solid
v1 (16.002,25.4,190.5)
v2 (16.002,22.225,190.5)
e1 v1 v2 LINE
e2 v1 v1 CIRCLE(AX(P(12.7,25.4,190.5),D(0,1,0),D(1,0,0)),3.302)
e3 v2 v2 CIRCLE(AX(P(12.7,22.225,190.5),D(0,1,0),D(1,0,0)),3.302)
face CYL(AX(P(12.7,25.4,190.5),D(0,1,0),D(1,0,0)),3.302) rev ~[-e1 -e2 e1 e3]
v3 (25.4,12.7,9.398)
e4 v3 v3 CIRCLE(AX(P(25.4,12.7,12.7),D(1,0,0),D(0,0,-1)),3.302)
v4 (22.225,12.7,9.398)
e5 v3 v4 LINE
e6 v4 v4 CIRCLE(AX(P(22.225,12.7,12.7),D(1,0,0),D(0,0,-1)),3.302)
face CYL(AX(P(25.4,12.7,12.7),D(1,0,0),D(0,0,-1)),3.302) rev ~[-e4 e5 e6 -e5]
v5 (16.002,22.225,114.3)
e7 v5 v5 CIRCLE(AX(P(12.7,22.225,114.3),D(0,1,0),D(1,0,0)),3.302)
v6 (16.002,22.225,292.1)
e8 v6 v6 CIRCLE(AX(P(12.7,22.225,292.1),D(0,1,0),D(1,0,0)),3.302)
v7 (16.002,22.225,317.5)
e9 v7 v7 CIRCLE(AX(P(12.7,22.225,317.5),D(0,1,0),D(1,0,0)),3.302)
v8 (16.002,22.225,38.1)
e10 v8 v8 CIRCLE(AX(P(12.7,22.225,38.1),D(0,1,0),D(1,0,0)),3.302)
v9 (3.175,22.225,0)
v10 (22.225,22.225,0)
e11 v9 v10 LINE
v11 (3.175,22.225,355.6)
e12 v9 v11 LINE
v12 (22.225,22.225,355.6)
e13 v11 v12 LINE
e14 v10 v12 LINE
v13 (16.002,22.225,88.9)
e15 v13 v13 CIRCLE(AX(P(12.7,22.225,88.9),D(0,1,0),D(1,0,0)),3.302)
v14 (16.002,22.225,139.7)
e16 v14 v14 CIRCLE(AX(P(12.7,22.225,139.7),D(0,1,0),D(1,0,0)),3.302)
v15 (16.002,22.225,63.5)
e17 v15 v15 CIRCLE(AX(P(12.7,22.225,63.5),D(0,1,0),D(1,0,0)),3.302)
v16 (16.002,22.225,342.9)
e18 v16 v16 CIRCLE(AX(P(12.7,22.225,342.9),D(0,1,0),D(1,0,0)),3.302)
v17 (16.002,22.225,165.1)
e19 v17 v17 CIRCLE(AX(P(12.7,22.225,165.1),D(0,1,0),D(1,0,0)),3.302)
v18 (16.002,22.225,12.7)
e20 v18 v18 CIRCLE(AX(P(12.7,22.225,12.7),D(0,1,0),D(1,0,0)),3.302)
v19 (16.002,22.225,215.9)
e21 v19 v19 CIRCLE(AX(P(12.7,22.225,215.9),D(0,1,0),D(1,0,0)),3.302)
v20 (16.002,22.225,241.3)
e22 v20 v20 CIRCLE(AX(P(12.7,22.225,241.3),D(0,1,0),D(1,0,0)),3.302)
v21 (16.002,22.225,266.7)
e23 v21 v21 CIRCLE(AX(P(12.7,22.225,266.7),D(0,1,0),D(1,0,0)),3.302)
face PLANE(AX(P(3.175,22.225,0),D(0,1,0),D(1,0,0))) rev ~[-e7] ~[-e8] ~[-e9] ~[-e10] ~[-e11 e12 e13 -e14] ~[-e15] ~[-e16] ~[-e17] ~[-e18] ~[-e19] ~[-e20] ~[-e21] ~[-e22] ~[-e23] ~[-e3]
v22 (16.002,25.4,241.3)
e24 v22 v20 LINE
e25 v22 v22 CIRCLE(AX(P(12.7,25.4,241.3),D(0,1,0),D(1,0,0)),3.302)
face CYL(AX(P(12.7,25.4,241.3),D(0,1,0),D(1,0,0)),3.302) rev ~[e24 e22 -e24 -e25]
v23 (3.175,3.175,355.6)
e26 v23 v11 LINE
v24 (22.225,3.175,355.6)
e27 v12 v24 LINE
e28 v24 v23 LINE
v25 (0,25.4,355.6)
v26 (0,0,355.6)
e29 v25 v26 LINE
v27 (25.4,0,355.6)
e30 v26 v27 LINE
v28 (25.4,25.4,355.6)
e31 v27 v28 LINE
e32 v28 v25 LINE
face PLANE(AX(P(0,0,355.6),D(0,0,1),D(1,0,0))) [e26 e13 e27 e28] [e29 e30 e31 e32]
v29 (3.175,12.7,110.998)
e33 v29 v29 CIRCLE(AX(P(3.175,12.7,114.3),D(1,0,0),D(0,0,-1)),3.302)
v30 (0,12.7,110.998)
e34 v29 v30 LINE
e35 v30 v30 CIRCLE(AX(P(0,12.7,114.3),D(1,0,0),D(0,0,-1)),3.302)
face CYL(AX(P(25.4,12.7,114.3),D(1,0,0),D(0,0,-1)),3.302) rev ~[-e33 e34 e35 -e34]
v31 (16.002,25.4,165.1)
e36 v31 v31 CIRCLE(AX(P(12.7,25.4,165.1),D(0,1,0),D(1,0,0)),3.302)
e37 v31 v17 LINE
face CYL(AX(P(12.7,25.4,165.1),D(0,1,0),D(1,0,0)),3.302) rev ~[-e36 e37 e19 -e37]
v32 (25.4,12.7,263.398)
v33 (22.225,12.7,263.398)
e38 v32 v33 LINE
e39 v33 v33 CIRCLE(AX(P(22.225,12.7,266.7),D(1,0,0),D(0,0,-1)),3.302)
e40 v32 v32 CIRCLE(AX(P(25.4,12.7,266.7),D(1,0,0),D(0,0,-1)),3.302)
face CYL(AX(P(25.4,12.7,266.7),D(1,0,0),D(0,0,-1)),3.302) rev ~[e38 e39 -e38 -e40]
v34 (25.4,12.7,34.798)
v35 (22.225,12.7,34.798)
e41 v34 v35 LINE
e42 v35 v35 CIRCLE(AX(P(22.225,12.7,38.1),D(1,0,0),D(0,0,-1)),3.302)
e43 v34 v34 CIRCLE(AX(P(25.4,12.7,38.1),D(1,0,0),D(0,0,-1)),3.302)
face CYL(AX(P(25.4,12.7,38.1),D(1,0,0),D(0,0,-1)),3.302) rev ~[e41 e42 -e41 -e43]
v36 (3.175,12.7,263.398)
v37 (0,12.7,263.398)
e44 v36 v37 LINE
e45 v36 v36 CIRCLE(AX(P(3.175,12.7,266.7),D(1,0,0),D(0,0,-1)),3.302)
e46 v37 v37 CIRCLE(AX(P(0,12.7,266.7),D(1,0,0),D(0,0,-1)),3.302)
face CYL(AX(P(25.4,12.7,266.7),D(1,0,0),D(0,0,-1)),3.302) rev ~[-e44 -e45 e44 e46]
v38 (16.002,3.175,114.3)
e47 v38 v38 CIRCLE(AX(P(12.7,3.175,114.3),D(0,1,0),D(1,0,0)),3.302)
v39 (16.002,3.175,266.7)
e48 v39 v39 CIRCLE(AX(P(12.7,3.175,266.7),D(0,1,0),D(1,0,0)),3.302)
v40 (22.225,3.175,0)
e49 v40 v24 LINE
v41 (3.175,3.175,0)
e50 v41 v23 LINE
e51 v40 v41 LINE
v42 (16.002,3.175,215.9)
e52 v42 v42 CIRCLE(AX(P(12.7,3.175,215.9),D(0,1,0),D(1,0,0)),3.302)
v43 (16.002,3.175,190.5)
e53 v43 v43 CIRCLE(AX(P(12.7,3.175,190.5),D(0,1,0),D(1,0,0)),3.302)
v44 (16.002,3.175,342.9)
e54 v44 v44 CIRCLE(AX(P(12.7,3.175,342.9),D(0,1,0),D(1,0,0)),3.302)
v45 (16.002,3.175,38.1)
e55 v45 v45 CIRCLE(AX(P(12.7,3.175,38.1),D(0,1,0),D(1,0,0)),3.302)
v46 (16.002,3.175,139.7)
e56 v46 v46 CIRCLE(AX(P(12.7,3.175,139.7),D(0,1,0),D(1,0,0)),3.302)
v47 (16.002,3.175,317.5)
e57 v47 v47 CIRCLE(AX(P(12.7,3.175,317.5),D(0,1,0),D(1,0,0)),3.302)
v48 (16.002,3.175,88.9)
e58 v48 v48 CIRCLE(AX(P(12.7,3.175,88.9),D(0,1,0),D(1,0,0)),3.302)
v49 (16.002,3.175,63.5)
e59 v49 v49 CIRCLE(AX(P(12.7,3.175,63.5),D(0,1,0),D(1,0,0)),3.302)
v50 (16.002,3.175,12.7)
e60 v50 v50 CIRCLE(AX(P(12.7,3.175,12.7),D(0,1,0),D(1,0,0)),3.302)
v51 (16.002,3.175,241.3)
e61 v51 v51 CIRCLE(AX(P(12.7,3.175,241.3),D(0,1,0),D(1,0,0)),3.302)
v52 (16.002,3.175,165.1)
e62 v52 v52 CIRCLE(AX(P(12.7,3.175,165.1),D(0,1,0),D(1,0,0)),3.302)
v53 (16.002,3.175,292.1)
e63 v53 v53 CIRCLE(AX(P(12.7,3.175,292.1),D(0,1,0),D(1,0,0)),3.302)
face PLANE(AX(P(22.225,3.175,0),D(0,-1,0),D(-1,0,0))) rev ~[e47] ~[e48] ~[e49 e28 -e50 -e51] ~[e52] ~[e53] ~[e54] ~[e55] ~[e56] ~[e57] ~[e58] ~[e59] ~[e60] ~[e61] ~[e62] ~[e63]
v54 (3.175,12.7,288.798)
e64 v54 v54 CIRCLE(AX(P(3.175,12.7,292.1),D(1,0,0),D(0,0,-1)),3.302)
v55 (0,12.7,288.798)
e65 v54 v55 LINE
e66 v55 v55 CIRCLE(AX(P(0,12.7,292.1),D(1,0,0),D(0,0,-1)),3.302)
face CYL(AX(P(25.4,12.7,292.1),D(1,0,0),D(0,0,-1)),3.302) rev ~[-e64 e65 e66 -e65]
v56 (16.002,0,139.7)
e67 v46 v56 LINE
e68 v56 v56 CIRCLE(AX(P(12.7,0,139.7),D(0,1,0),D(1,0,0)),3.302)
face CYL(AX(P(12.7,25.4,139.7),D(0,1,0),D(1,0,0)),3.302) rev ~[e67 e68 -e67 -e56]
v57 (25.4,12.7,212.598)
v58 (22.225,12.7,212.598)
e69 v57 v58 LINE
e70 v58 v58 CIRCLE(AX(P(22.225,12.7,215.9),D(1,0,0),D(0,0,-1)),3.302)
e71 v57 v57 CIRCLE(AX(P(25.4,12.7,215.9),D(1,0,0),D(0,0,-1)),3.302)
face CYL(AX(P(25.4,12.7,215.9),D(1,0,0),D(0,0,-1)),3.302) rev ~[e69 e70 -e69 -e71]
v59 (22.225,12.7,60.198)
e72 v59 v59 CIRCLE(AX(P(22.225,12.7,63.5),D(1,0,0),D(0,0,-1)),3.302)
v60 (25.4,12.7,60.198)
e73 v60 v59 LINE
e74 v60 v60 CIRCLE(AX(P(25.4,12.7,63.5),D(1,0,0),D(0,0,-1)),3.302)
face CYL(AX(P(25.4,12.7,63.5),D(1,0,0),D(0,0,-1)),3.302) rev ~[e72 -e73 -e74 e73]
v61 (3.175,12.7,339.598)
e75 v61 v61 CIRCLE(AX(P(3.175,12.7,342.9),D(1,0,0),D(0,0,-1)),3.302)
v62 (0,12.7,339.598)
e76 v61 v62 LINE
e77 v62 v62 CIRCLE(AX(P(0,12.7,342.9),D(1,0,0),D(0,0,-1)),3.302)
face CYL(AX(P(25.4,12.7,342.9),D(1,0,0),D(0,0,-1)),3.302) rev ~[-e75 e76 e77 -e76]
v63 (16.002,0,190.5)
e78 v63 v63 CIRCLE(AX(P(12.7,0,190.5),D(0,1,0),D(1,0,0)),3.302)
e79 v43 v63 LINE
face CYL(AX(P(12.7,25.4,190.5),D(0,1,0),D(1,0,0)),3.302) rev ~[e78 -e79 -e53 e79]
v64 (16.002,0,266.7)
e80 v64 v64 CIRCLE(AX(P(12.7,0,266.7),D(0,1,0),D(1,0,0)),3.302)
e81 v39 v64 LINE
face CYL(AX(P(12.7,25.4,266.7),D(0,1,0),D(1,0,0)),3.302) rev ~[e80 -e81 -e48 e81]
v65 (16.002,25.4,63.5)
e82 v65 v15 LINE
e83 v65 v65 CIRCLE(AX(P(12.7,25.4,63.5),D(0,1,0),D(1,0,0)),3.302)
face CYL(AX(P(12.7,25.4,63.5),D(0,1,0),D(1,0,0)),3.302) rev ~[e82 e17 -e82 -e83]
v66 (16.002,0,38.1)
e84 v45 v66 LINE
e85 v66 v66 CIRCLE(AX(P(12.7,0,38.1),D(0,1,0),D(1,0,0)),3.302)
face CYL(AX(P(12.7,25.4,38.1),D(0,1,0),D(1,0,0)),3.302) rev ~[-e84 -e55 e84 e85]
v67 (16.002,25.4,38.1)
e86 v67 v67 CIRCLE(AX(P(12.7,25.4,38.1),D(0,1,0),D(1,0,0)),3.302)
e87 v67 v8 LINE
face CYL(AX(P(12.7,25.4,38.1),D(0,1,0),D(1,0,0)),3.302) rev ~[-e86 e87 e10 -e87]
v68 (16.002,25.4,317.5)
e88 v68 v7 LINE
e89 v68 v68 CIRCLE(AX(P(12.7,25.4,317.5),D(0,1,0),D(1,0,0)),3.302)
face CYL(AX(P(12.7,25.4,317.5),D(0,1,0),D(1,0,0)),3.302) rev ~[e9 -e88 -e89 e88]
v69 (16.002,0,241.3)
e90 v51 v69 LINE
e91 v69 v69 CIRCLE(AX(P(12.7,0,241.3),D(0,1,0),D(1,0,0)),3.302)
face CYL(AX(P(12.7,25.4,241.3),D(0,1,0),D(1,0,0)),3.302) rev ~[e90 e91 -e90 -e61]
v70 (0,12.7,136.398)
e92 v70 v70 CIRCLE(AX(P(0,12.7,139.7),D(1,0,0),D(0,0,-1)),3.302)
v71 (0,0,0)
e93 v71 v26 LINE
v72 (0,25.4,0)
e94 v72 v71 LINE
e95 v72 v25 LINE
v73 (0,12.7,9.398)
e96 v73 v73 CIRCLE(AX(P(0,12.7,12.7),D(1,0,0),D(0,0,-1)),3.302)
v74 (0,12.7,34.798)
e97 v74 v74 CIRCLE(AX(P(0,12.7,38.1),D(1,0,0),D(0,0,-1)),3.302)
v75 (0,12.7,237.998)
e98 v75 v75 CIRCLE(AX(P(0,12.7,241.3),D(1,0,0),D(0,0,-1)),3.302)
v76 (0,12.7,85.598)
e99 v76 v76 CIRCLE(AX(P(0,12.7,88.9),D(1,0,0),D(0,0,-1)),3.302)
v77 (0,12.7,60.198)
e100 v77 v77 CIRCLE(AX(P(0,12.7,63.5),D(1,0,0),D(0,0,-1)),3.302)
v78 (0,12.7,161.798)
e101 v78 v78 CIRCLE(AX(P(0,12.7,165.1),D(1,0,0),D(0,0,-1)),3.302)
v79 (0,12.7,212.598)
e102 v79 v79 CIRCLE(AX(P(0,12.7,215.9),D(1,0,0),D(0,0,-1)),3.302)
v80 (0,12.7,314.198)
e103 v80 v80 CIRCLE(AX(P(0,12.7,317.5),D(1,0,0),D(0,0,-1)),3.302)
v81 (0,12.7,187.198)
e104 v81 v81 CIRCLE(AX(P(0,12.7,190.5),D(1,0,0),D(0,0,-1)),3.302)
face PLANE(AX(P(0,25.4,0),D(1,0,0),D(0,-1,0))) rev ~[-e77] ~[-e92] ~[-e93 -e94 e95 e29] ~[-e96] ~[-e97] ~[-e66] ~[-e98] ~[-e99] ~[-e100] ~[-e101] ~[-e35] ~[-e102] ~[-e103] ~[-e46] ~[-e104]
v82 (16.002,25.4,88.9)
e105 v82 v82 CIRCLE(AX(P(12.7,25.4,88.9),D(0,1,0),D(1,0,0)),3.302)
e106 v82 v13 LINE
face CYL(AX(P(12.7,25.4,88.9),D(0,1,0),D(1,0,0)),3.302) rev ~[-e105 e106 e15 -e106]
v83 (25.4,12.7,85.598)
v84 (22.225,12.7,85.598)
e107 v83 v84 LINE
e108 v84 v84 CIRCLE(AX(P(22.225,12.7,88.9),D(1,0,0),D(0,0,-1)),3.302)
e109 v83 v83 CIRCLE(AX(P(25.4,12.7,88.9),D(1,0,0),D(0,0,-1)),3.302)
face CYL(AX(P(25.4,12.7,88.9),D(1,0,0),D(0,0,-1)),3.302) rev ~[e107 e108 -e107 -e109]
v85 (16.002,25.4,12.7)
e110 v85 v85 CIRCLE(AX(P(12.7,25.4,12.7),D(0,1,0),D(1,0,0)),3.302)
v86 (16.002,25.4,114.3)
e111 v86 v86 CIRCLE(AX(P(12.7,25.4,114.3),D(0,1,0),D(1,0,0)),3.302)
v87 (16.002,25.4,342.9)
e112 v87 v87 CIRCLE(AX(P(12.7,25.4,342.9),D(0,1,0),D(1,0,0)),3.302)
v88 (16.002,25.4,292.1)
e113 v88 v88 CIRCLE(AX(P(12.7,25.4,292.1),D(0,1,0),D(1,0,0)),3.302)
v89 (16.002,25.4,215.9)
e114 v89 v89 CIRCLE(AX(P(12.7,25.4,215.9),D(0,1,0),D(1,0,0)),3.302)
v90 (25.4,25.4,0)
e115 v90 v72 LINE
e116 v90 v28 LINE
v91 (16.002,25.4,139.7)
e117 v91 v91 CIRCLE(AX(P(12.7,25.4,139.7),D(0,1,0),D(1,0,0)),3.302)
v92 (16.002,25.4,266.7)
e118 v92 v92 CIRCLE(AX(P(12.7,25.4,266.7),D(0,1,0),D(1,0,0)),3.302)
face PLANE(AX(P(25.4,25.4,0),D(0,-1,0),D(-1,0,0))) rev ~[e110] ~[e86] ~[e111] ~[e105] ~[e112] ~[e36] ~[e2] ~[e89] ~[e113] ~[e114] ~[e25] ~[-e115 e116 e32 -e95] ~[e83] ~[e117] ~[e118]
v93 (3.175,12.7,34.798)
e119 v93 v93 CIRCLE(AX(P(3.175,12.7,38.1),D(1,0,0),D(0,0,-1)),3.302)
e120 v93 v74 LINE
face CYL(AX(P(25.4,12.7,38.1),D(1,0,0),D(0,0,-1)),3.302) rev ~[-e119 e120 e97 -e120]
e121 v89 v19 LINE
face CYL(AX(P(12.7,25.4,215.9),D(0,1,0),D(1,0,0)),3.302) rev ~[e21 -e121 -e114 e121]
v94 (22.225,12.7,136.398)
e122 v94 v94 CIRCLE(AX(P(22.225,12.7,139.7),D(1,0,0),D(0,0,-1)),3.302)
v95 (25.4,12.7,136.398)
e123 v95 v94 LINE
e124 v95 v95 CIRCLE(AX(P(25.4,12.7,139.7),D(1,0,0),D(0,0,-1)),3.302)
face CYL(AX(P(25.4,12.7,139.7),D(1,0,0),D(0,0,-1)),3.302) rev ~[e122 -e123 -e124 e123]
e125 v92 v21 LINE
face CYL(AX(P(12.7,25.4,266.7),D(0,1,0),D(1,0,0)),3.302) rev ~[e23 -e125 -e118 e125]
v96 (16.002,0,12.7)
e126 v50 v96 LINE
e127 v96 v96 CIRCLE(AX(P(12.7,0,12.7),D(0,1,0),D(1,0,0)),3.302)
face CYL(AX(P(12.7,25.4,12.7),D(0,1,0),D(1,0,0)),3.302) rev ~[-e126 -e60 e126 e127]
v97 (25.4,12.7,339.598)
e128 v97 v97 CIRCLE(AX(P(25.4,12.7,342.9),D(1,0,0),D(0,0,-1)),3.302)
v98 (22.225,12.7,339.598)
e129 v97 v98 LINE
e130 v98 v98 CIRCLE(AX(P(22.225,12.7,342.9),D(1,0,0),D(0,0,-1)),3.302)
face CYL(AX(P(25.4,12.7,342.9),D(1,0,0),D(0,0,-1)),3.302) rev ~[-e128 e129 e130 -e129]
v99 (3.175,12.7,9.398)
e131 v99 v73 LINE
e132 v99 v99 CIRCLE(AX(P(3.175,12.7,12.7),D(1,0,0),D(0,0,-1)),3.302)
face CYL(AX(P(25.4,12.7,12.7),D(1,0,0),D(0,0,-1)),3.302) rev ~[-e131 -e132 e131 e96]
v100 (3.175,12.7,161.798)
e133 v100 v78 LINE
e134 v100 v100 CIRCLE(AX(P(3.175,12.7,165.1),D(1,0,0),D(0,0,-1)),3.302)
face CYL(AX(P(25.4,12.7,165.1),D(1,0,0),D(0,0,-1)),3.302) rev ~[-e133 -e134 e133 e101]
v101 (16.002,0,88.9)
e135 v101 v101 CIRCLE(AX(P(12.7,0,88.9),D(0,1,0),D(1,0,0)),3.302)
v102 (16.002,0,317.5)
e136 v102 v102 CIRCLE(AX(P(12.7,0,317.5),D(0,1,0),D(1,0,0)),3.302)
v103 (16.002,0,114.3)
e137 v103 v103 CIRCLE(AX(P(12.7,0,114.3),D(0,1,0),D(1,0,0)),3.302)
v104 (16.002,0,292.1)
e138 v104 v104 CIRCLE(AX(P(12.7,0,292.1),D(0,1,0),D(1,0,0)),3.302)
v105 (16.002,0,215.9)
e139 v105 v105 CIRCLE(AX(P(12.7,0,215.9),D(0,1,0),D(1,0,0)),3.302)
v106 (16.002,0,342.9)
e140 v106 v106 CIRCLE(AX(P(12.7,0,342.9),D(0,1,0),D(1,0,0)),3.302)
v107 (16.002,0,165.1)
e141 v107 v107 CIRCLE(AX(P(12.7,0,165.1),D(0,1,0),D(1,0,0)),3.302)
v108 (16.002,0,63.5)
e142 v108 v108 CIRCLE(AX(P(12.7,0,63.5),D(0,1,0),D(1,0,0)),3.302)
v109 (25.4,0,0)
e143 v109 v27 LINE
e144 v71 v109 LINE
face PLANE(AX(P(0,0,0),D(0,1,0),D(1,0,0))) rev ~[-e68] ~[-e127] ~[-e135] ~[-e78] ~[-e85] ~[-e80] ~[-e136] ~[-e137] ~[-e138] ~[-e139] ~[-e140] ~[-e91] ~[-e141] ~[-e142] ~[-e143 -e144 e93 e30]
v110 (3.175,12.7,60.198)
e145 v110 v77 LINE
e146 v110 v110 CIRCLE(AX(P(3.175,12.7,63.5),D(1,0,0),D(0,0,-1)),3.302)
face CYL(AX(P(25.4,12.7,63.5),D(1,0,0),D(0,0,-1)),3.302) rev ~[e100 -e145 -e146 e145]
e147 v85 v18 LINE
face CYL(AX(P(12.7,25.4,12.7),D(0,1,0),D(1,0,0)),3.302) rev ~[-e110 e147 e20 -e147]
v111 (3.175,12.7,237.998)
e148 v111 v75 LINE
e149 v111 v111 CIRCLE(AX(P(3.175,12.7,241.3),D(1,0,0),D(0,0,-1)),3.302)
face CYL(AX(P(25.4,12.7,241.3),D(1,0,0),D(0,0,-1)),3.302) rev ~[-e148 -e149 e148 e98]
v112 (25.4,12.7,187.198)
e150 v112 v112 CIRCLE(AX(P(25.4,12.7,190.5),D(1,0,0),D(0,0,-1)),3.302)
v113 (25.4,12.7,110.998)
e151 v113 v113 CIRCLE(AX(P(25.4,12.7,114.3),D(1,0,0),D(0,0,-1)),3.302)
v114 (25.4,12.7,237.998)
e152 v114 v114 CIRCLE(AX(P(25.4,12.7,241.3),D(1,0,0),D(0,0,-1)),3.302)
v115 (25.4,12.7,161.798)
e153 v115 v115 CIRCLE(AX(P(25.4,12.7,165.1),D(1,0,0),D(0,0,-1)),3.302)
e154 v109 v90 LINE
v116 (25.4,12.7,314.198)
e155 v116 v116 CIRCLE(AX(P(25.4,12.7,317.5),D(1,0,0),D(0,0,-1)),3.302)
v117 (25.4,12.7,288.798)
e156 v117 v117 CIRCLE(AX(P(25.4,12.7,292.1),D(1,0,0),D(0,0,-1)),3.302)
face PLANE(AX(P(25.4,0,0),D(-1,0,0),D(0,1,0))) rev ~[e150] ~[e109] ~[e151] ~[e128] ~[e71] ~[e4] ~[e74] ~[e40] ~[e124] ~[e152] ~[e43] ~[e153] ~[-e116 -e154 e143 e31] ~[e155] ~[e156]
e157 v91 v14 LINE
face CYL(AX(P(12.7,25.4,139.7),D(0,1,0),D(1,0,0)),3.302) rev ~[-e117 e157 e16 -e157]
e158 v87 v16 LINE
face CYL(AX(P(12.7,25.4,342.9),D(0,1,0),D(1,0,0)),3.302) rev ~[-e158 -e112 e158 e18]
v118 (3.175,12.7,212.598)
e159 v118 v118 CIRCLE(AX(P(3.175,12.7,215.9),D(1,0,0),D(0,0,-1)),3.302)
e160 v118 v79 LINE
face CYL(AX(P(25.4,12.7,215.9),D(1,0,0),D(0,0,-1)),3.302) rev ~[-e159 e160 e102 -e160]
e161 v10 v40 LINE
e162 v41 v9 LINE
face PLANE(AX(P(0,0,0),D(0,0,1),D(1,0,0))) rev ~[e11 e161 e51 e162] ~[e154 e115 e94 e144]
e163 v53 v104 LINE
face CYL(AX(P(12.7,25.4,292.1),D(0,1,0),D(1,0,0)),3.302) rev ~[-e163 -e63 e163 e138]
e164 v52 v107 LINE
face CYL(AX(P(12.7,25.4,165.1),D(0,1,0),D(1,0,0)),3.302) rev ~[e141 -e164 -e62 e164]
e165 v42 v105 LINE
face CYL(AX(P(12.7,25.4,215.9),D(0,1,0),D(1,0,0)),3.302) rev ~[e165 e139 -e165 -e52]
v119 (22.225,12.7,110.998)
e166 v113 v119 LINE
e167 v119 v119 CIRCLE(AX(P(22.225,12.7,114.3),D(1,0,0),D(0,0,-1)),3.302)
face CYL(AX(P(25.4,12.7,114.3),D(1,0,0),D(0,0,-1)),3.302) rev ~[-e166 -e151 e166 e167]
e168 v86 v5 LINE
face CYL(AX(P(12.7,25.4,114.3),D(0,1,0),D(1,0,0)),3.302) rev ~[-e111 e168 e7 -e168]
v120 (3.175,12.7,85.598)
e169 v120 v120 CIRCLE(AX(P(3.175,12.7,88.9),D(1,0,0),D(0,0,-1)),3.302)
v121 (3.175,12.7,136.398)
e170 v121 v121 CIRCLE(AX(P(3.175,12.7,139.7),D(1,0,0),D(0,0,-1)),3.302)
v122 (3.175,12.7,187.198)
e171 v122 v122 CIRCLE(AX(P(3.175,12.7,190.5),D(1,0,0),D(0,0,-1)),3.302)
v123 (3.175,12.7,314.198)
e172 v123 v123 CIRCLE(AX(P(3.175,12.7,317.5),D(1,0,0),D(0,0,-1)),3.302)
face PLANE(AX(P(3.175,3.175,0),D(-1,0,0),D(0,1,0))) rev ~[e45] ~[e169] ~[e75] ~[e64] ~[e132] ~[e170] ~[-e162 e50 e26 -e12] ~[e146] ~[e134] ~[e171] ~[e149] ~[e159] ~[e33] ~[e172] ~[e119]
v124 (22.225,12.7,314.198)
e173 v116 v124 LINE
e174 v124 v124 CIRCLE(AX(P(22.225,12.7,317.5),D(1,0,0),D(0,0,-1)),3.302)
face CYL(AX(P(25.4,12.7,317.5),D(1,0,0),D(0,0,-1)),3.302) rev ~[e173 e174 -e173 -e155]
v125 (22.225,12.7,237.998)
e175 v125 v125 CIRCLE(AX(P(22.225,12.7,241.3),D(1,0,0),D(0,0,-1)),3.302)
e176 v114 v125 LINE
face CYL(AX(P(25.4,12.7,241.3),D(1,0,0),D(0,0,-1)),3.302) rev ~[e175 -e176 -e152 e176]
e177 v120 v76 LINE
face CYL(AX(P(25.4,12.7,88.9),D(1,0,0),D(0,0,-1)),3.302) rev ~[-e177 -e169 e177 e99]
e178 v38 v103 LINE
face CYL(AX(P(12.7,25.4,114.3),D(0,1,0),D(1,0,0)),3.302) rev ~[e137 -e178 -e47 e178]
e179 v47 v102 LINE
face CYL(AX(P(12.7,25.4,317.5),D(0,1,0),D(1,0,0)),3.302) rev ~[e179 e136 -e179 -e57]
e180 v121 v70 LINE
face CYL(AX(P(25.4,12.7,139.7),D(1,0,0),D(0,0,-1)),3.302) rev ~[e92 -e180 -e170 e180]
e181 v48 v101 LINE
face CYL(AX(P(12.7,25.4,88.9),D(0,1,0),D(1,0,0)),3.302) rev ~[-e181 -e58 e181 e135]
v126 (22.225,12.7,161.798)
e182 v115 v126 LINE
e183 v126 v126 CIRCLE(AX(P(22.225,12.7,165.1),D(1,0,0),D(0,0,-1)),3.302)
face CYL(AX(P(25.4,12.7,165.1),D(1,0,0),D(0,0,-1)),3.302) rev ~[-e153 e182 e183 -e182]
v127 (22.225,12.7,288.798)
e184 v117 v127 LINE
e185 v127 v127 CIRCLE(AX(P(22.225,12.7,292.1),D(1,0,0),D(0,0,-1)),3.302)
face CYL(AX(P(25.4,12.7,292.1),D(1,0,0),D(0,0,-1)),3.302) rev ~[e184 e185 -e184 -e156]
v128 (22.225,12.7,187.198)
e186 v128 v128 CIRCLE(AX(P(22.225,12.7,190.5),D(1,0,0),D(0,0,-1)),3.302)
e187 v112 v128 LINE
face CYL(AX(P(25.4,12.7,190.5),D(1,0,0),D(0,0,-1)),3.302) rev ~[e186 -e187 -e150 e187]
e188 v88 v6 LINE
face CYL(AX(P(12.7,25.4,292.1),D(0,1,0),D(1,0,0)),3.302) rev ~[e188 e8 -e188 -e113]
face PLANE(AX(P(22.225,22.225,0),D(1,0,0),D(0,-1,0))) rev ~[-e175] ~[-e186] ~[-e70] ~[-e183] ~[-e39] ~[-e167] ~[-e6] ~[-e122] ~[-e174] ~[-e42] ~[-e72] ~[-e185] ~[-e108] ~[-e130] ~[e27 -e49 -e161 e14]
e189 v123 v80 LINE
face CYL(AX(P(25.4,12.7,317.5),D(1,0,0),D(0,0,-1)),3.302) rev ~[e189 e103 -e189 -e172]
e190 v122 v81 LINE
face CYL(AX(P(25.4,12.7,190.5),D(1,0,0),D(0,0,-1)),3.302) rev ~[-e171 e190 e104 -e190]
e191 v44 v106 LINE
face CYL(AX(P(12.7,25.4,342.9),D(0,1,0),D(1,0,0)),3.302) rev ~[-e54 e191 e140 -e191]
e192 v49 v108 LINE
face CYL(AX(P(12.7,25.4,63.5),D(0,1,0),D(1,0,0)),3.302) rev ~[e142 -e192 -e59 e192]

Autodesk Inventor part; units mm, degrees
ref_plane "YZ Plane" through (0, 0, 0) normal (1, 0, 0) x (0, 1, 0)
ref_plane "XZ Plane" through (0, 0, 0) normal (0, 1, 0) x (-1, 0, 0)
ref_plane "XY Plane" through (0, 0, 0) normal (0, 0, 1) x (1, 0, 0)
sketch "Sketch1" plane through (0, 0, 0) normal (0, 0, 1) x (1, 0, 0)
  line L0 (0, 0) -> (25.4, 0)
  line L1 (25.4, 0) -> (25.4, 25.4)
  line L2 (25.4, 25.4) -> (0, 25.4)
  line L3 (0, 25.4) -> (0, 0)
  line L4 (3.175, 22.225) -> (22.225, 22.225)
  line L5 (22.225, 22.225) -> (22.225, 3.175)
  line L6 (22.225, 3.175) -> (3.175, 3.175)
  line L7 (3.175, 3.175) -> (3.175, 22.225)
  dimension "d0" = 25.4
  dimension "d1" = 25.4
  dimension "d2" = 3.175
extrude "Extrusion1" add sketch "Sketch1" along normal blind 355.6
sketch "Sketch2" plane through (25.4, 0, 0) normal (1, 0, 0) x (0, 0, -1)
  line L0 (-355.6, 0) -> (-355.6, 25.4) projected
  line L1 (0, 0) -> (-355.6, 0) projected
  line L2 (-355.6, 12.7) -> (-342.9, 12.7) construction
  circle A0 centre (-342.9, 12.7) radius 3.302 construction
  circle A1 centre (-317.5, 12.7) radius 3.302
  circle A2 centre (-292.1, 12.7) radius 3.302
  circle A3 centre (-266.7, 12.7) radius 3.302
  circle A4 centre (-241.3, 12.7) radius 3.302
  circle A5 centre (-215.9, 12.7) radius 3.302
  circle A6 centre (-190.5, 12.7) radius 3.302
  circle A7 centre (-165.1, 12.7) radius 3.302
  circle A8 centre (-139.7, 12.7) radius 3.302
  circle A9 centre (-114.3, 12.7) radius 3.302
  circle A10 centre (-88.9, 12.7) radius 3.302
  circle A11 centre (-63.5, 12.7) radius 3.302
  circle A12 centre (-38.1, 12.7) radius 3.302
  circle A13 centre (-12.7, 12.7) radius 3.302
  line L3 (0, 0) -> (0, 25.4) projected
  circle A14 centre (-342.9, 12.7) radius 3.302
  circle A15 centre (-12.7, 12.7) radius 3.302
  line L4 (-12.7, 12.7) -> (0, 12.7) construction
  dimension "d5" = 12.7
  dimension "d7" = 6.604
  dimension "d10" = 355.6
  dimension "d13" = 25.4
  dimension "d19" = 12.7
  dimension "d20" = 6.604
  dimension "d21" = 6.604
  dimension "d22" = 12.7
extrude "Extrusion2" cut sketch "Sketch2" against normal through all
sketch "Sketch3" plane through (0, 25.4, 0) normal (0, 1, 0) x (1, 0, 0)
  line L0 (25.4, 0) -> (0, 0) projected
  line L1 (25.4, -355.6) -> (0, -355.6) projected
  circle A0 centre (12.7, -342.9) radius 3.302
  line L2 (12.7, -355.6) -> (12.7, 0) construction
  circle A1 centre (12.7, -317.5) radius 3.302
  circle A2 centre (12.7, -292.1) radius 3.302
  circle A3 centre (12.7, -266.7) radius 3.302
  circle A4 centre (12.7, -241.3) radius 3.302
  circle A5 centre (12.7, -215.9) radius 3.302
  circle A6 centre (12.7, -190.5) radius 3.302
  circle A7 centre (12.7, -165.1) radius 3.302
  circle A8 centre (12.7, -139.7) radius 3.302
  circle A9 centre (12.7, -114.3) radius 3.302
  circle A10 centre (12.7, -88.9) radius 3.302
  circle A11 centre (12.7, -63.5) radius 3.302
  circle A12 centre (12.7, -38.1) radius 3.302
  circle A13 centre (12.7, -12.7) radius 3.302
  dimension "d23" = 6.604
  dimension "d25" = 12.7
  dimension "d28" = 25.4
extrude "Extrusion3" cut sketch "Sketch3" against normal blind 25.4
equation "\"d20\" = d7"
equation "\"d21\" = d7"
equation "\"d22\" = d19"
properties part number "Chassis Part10 (26x28)" material "Aluminum 6061"
